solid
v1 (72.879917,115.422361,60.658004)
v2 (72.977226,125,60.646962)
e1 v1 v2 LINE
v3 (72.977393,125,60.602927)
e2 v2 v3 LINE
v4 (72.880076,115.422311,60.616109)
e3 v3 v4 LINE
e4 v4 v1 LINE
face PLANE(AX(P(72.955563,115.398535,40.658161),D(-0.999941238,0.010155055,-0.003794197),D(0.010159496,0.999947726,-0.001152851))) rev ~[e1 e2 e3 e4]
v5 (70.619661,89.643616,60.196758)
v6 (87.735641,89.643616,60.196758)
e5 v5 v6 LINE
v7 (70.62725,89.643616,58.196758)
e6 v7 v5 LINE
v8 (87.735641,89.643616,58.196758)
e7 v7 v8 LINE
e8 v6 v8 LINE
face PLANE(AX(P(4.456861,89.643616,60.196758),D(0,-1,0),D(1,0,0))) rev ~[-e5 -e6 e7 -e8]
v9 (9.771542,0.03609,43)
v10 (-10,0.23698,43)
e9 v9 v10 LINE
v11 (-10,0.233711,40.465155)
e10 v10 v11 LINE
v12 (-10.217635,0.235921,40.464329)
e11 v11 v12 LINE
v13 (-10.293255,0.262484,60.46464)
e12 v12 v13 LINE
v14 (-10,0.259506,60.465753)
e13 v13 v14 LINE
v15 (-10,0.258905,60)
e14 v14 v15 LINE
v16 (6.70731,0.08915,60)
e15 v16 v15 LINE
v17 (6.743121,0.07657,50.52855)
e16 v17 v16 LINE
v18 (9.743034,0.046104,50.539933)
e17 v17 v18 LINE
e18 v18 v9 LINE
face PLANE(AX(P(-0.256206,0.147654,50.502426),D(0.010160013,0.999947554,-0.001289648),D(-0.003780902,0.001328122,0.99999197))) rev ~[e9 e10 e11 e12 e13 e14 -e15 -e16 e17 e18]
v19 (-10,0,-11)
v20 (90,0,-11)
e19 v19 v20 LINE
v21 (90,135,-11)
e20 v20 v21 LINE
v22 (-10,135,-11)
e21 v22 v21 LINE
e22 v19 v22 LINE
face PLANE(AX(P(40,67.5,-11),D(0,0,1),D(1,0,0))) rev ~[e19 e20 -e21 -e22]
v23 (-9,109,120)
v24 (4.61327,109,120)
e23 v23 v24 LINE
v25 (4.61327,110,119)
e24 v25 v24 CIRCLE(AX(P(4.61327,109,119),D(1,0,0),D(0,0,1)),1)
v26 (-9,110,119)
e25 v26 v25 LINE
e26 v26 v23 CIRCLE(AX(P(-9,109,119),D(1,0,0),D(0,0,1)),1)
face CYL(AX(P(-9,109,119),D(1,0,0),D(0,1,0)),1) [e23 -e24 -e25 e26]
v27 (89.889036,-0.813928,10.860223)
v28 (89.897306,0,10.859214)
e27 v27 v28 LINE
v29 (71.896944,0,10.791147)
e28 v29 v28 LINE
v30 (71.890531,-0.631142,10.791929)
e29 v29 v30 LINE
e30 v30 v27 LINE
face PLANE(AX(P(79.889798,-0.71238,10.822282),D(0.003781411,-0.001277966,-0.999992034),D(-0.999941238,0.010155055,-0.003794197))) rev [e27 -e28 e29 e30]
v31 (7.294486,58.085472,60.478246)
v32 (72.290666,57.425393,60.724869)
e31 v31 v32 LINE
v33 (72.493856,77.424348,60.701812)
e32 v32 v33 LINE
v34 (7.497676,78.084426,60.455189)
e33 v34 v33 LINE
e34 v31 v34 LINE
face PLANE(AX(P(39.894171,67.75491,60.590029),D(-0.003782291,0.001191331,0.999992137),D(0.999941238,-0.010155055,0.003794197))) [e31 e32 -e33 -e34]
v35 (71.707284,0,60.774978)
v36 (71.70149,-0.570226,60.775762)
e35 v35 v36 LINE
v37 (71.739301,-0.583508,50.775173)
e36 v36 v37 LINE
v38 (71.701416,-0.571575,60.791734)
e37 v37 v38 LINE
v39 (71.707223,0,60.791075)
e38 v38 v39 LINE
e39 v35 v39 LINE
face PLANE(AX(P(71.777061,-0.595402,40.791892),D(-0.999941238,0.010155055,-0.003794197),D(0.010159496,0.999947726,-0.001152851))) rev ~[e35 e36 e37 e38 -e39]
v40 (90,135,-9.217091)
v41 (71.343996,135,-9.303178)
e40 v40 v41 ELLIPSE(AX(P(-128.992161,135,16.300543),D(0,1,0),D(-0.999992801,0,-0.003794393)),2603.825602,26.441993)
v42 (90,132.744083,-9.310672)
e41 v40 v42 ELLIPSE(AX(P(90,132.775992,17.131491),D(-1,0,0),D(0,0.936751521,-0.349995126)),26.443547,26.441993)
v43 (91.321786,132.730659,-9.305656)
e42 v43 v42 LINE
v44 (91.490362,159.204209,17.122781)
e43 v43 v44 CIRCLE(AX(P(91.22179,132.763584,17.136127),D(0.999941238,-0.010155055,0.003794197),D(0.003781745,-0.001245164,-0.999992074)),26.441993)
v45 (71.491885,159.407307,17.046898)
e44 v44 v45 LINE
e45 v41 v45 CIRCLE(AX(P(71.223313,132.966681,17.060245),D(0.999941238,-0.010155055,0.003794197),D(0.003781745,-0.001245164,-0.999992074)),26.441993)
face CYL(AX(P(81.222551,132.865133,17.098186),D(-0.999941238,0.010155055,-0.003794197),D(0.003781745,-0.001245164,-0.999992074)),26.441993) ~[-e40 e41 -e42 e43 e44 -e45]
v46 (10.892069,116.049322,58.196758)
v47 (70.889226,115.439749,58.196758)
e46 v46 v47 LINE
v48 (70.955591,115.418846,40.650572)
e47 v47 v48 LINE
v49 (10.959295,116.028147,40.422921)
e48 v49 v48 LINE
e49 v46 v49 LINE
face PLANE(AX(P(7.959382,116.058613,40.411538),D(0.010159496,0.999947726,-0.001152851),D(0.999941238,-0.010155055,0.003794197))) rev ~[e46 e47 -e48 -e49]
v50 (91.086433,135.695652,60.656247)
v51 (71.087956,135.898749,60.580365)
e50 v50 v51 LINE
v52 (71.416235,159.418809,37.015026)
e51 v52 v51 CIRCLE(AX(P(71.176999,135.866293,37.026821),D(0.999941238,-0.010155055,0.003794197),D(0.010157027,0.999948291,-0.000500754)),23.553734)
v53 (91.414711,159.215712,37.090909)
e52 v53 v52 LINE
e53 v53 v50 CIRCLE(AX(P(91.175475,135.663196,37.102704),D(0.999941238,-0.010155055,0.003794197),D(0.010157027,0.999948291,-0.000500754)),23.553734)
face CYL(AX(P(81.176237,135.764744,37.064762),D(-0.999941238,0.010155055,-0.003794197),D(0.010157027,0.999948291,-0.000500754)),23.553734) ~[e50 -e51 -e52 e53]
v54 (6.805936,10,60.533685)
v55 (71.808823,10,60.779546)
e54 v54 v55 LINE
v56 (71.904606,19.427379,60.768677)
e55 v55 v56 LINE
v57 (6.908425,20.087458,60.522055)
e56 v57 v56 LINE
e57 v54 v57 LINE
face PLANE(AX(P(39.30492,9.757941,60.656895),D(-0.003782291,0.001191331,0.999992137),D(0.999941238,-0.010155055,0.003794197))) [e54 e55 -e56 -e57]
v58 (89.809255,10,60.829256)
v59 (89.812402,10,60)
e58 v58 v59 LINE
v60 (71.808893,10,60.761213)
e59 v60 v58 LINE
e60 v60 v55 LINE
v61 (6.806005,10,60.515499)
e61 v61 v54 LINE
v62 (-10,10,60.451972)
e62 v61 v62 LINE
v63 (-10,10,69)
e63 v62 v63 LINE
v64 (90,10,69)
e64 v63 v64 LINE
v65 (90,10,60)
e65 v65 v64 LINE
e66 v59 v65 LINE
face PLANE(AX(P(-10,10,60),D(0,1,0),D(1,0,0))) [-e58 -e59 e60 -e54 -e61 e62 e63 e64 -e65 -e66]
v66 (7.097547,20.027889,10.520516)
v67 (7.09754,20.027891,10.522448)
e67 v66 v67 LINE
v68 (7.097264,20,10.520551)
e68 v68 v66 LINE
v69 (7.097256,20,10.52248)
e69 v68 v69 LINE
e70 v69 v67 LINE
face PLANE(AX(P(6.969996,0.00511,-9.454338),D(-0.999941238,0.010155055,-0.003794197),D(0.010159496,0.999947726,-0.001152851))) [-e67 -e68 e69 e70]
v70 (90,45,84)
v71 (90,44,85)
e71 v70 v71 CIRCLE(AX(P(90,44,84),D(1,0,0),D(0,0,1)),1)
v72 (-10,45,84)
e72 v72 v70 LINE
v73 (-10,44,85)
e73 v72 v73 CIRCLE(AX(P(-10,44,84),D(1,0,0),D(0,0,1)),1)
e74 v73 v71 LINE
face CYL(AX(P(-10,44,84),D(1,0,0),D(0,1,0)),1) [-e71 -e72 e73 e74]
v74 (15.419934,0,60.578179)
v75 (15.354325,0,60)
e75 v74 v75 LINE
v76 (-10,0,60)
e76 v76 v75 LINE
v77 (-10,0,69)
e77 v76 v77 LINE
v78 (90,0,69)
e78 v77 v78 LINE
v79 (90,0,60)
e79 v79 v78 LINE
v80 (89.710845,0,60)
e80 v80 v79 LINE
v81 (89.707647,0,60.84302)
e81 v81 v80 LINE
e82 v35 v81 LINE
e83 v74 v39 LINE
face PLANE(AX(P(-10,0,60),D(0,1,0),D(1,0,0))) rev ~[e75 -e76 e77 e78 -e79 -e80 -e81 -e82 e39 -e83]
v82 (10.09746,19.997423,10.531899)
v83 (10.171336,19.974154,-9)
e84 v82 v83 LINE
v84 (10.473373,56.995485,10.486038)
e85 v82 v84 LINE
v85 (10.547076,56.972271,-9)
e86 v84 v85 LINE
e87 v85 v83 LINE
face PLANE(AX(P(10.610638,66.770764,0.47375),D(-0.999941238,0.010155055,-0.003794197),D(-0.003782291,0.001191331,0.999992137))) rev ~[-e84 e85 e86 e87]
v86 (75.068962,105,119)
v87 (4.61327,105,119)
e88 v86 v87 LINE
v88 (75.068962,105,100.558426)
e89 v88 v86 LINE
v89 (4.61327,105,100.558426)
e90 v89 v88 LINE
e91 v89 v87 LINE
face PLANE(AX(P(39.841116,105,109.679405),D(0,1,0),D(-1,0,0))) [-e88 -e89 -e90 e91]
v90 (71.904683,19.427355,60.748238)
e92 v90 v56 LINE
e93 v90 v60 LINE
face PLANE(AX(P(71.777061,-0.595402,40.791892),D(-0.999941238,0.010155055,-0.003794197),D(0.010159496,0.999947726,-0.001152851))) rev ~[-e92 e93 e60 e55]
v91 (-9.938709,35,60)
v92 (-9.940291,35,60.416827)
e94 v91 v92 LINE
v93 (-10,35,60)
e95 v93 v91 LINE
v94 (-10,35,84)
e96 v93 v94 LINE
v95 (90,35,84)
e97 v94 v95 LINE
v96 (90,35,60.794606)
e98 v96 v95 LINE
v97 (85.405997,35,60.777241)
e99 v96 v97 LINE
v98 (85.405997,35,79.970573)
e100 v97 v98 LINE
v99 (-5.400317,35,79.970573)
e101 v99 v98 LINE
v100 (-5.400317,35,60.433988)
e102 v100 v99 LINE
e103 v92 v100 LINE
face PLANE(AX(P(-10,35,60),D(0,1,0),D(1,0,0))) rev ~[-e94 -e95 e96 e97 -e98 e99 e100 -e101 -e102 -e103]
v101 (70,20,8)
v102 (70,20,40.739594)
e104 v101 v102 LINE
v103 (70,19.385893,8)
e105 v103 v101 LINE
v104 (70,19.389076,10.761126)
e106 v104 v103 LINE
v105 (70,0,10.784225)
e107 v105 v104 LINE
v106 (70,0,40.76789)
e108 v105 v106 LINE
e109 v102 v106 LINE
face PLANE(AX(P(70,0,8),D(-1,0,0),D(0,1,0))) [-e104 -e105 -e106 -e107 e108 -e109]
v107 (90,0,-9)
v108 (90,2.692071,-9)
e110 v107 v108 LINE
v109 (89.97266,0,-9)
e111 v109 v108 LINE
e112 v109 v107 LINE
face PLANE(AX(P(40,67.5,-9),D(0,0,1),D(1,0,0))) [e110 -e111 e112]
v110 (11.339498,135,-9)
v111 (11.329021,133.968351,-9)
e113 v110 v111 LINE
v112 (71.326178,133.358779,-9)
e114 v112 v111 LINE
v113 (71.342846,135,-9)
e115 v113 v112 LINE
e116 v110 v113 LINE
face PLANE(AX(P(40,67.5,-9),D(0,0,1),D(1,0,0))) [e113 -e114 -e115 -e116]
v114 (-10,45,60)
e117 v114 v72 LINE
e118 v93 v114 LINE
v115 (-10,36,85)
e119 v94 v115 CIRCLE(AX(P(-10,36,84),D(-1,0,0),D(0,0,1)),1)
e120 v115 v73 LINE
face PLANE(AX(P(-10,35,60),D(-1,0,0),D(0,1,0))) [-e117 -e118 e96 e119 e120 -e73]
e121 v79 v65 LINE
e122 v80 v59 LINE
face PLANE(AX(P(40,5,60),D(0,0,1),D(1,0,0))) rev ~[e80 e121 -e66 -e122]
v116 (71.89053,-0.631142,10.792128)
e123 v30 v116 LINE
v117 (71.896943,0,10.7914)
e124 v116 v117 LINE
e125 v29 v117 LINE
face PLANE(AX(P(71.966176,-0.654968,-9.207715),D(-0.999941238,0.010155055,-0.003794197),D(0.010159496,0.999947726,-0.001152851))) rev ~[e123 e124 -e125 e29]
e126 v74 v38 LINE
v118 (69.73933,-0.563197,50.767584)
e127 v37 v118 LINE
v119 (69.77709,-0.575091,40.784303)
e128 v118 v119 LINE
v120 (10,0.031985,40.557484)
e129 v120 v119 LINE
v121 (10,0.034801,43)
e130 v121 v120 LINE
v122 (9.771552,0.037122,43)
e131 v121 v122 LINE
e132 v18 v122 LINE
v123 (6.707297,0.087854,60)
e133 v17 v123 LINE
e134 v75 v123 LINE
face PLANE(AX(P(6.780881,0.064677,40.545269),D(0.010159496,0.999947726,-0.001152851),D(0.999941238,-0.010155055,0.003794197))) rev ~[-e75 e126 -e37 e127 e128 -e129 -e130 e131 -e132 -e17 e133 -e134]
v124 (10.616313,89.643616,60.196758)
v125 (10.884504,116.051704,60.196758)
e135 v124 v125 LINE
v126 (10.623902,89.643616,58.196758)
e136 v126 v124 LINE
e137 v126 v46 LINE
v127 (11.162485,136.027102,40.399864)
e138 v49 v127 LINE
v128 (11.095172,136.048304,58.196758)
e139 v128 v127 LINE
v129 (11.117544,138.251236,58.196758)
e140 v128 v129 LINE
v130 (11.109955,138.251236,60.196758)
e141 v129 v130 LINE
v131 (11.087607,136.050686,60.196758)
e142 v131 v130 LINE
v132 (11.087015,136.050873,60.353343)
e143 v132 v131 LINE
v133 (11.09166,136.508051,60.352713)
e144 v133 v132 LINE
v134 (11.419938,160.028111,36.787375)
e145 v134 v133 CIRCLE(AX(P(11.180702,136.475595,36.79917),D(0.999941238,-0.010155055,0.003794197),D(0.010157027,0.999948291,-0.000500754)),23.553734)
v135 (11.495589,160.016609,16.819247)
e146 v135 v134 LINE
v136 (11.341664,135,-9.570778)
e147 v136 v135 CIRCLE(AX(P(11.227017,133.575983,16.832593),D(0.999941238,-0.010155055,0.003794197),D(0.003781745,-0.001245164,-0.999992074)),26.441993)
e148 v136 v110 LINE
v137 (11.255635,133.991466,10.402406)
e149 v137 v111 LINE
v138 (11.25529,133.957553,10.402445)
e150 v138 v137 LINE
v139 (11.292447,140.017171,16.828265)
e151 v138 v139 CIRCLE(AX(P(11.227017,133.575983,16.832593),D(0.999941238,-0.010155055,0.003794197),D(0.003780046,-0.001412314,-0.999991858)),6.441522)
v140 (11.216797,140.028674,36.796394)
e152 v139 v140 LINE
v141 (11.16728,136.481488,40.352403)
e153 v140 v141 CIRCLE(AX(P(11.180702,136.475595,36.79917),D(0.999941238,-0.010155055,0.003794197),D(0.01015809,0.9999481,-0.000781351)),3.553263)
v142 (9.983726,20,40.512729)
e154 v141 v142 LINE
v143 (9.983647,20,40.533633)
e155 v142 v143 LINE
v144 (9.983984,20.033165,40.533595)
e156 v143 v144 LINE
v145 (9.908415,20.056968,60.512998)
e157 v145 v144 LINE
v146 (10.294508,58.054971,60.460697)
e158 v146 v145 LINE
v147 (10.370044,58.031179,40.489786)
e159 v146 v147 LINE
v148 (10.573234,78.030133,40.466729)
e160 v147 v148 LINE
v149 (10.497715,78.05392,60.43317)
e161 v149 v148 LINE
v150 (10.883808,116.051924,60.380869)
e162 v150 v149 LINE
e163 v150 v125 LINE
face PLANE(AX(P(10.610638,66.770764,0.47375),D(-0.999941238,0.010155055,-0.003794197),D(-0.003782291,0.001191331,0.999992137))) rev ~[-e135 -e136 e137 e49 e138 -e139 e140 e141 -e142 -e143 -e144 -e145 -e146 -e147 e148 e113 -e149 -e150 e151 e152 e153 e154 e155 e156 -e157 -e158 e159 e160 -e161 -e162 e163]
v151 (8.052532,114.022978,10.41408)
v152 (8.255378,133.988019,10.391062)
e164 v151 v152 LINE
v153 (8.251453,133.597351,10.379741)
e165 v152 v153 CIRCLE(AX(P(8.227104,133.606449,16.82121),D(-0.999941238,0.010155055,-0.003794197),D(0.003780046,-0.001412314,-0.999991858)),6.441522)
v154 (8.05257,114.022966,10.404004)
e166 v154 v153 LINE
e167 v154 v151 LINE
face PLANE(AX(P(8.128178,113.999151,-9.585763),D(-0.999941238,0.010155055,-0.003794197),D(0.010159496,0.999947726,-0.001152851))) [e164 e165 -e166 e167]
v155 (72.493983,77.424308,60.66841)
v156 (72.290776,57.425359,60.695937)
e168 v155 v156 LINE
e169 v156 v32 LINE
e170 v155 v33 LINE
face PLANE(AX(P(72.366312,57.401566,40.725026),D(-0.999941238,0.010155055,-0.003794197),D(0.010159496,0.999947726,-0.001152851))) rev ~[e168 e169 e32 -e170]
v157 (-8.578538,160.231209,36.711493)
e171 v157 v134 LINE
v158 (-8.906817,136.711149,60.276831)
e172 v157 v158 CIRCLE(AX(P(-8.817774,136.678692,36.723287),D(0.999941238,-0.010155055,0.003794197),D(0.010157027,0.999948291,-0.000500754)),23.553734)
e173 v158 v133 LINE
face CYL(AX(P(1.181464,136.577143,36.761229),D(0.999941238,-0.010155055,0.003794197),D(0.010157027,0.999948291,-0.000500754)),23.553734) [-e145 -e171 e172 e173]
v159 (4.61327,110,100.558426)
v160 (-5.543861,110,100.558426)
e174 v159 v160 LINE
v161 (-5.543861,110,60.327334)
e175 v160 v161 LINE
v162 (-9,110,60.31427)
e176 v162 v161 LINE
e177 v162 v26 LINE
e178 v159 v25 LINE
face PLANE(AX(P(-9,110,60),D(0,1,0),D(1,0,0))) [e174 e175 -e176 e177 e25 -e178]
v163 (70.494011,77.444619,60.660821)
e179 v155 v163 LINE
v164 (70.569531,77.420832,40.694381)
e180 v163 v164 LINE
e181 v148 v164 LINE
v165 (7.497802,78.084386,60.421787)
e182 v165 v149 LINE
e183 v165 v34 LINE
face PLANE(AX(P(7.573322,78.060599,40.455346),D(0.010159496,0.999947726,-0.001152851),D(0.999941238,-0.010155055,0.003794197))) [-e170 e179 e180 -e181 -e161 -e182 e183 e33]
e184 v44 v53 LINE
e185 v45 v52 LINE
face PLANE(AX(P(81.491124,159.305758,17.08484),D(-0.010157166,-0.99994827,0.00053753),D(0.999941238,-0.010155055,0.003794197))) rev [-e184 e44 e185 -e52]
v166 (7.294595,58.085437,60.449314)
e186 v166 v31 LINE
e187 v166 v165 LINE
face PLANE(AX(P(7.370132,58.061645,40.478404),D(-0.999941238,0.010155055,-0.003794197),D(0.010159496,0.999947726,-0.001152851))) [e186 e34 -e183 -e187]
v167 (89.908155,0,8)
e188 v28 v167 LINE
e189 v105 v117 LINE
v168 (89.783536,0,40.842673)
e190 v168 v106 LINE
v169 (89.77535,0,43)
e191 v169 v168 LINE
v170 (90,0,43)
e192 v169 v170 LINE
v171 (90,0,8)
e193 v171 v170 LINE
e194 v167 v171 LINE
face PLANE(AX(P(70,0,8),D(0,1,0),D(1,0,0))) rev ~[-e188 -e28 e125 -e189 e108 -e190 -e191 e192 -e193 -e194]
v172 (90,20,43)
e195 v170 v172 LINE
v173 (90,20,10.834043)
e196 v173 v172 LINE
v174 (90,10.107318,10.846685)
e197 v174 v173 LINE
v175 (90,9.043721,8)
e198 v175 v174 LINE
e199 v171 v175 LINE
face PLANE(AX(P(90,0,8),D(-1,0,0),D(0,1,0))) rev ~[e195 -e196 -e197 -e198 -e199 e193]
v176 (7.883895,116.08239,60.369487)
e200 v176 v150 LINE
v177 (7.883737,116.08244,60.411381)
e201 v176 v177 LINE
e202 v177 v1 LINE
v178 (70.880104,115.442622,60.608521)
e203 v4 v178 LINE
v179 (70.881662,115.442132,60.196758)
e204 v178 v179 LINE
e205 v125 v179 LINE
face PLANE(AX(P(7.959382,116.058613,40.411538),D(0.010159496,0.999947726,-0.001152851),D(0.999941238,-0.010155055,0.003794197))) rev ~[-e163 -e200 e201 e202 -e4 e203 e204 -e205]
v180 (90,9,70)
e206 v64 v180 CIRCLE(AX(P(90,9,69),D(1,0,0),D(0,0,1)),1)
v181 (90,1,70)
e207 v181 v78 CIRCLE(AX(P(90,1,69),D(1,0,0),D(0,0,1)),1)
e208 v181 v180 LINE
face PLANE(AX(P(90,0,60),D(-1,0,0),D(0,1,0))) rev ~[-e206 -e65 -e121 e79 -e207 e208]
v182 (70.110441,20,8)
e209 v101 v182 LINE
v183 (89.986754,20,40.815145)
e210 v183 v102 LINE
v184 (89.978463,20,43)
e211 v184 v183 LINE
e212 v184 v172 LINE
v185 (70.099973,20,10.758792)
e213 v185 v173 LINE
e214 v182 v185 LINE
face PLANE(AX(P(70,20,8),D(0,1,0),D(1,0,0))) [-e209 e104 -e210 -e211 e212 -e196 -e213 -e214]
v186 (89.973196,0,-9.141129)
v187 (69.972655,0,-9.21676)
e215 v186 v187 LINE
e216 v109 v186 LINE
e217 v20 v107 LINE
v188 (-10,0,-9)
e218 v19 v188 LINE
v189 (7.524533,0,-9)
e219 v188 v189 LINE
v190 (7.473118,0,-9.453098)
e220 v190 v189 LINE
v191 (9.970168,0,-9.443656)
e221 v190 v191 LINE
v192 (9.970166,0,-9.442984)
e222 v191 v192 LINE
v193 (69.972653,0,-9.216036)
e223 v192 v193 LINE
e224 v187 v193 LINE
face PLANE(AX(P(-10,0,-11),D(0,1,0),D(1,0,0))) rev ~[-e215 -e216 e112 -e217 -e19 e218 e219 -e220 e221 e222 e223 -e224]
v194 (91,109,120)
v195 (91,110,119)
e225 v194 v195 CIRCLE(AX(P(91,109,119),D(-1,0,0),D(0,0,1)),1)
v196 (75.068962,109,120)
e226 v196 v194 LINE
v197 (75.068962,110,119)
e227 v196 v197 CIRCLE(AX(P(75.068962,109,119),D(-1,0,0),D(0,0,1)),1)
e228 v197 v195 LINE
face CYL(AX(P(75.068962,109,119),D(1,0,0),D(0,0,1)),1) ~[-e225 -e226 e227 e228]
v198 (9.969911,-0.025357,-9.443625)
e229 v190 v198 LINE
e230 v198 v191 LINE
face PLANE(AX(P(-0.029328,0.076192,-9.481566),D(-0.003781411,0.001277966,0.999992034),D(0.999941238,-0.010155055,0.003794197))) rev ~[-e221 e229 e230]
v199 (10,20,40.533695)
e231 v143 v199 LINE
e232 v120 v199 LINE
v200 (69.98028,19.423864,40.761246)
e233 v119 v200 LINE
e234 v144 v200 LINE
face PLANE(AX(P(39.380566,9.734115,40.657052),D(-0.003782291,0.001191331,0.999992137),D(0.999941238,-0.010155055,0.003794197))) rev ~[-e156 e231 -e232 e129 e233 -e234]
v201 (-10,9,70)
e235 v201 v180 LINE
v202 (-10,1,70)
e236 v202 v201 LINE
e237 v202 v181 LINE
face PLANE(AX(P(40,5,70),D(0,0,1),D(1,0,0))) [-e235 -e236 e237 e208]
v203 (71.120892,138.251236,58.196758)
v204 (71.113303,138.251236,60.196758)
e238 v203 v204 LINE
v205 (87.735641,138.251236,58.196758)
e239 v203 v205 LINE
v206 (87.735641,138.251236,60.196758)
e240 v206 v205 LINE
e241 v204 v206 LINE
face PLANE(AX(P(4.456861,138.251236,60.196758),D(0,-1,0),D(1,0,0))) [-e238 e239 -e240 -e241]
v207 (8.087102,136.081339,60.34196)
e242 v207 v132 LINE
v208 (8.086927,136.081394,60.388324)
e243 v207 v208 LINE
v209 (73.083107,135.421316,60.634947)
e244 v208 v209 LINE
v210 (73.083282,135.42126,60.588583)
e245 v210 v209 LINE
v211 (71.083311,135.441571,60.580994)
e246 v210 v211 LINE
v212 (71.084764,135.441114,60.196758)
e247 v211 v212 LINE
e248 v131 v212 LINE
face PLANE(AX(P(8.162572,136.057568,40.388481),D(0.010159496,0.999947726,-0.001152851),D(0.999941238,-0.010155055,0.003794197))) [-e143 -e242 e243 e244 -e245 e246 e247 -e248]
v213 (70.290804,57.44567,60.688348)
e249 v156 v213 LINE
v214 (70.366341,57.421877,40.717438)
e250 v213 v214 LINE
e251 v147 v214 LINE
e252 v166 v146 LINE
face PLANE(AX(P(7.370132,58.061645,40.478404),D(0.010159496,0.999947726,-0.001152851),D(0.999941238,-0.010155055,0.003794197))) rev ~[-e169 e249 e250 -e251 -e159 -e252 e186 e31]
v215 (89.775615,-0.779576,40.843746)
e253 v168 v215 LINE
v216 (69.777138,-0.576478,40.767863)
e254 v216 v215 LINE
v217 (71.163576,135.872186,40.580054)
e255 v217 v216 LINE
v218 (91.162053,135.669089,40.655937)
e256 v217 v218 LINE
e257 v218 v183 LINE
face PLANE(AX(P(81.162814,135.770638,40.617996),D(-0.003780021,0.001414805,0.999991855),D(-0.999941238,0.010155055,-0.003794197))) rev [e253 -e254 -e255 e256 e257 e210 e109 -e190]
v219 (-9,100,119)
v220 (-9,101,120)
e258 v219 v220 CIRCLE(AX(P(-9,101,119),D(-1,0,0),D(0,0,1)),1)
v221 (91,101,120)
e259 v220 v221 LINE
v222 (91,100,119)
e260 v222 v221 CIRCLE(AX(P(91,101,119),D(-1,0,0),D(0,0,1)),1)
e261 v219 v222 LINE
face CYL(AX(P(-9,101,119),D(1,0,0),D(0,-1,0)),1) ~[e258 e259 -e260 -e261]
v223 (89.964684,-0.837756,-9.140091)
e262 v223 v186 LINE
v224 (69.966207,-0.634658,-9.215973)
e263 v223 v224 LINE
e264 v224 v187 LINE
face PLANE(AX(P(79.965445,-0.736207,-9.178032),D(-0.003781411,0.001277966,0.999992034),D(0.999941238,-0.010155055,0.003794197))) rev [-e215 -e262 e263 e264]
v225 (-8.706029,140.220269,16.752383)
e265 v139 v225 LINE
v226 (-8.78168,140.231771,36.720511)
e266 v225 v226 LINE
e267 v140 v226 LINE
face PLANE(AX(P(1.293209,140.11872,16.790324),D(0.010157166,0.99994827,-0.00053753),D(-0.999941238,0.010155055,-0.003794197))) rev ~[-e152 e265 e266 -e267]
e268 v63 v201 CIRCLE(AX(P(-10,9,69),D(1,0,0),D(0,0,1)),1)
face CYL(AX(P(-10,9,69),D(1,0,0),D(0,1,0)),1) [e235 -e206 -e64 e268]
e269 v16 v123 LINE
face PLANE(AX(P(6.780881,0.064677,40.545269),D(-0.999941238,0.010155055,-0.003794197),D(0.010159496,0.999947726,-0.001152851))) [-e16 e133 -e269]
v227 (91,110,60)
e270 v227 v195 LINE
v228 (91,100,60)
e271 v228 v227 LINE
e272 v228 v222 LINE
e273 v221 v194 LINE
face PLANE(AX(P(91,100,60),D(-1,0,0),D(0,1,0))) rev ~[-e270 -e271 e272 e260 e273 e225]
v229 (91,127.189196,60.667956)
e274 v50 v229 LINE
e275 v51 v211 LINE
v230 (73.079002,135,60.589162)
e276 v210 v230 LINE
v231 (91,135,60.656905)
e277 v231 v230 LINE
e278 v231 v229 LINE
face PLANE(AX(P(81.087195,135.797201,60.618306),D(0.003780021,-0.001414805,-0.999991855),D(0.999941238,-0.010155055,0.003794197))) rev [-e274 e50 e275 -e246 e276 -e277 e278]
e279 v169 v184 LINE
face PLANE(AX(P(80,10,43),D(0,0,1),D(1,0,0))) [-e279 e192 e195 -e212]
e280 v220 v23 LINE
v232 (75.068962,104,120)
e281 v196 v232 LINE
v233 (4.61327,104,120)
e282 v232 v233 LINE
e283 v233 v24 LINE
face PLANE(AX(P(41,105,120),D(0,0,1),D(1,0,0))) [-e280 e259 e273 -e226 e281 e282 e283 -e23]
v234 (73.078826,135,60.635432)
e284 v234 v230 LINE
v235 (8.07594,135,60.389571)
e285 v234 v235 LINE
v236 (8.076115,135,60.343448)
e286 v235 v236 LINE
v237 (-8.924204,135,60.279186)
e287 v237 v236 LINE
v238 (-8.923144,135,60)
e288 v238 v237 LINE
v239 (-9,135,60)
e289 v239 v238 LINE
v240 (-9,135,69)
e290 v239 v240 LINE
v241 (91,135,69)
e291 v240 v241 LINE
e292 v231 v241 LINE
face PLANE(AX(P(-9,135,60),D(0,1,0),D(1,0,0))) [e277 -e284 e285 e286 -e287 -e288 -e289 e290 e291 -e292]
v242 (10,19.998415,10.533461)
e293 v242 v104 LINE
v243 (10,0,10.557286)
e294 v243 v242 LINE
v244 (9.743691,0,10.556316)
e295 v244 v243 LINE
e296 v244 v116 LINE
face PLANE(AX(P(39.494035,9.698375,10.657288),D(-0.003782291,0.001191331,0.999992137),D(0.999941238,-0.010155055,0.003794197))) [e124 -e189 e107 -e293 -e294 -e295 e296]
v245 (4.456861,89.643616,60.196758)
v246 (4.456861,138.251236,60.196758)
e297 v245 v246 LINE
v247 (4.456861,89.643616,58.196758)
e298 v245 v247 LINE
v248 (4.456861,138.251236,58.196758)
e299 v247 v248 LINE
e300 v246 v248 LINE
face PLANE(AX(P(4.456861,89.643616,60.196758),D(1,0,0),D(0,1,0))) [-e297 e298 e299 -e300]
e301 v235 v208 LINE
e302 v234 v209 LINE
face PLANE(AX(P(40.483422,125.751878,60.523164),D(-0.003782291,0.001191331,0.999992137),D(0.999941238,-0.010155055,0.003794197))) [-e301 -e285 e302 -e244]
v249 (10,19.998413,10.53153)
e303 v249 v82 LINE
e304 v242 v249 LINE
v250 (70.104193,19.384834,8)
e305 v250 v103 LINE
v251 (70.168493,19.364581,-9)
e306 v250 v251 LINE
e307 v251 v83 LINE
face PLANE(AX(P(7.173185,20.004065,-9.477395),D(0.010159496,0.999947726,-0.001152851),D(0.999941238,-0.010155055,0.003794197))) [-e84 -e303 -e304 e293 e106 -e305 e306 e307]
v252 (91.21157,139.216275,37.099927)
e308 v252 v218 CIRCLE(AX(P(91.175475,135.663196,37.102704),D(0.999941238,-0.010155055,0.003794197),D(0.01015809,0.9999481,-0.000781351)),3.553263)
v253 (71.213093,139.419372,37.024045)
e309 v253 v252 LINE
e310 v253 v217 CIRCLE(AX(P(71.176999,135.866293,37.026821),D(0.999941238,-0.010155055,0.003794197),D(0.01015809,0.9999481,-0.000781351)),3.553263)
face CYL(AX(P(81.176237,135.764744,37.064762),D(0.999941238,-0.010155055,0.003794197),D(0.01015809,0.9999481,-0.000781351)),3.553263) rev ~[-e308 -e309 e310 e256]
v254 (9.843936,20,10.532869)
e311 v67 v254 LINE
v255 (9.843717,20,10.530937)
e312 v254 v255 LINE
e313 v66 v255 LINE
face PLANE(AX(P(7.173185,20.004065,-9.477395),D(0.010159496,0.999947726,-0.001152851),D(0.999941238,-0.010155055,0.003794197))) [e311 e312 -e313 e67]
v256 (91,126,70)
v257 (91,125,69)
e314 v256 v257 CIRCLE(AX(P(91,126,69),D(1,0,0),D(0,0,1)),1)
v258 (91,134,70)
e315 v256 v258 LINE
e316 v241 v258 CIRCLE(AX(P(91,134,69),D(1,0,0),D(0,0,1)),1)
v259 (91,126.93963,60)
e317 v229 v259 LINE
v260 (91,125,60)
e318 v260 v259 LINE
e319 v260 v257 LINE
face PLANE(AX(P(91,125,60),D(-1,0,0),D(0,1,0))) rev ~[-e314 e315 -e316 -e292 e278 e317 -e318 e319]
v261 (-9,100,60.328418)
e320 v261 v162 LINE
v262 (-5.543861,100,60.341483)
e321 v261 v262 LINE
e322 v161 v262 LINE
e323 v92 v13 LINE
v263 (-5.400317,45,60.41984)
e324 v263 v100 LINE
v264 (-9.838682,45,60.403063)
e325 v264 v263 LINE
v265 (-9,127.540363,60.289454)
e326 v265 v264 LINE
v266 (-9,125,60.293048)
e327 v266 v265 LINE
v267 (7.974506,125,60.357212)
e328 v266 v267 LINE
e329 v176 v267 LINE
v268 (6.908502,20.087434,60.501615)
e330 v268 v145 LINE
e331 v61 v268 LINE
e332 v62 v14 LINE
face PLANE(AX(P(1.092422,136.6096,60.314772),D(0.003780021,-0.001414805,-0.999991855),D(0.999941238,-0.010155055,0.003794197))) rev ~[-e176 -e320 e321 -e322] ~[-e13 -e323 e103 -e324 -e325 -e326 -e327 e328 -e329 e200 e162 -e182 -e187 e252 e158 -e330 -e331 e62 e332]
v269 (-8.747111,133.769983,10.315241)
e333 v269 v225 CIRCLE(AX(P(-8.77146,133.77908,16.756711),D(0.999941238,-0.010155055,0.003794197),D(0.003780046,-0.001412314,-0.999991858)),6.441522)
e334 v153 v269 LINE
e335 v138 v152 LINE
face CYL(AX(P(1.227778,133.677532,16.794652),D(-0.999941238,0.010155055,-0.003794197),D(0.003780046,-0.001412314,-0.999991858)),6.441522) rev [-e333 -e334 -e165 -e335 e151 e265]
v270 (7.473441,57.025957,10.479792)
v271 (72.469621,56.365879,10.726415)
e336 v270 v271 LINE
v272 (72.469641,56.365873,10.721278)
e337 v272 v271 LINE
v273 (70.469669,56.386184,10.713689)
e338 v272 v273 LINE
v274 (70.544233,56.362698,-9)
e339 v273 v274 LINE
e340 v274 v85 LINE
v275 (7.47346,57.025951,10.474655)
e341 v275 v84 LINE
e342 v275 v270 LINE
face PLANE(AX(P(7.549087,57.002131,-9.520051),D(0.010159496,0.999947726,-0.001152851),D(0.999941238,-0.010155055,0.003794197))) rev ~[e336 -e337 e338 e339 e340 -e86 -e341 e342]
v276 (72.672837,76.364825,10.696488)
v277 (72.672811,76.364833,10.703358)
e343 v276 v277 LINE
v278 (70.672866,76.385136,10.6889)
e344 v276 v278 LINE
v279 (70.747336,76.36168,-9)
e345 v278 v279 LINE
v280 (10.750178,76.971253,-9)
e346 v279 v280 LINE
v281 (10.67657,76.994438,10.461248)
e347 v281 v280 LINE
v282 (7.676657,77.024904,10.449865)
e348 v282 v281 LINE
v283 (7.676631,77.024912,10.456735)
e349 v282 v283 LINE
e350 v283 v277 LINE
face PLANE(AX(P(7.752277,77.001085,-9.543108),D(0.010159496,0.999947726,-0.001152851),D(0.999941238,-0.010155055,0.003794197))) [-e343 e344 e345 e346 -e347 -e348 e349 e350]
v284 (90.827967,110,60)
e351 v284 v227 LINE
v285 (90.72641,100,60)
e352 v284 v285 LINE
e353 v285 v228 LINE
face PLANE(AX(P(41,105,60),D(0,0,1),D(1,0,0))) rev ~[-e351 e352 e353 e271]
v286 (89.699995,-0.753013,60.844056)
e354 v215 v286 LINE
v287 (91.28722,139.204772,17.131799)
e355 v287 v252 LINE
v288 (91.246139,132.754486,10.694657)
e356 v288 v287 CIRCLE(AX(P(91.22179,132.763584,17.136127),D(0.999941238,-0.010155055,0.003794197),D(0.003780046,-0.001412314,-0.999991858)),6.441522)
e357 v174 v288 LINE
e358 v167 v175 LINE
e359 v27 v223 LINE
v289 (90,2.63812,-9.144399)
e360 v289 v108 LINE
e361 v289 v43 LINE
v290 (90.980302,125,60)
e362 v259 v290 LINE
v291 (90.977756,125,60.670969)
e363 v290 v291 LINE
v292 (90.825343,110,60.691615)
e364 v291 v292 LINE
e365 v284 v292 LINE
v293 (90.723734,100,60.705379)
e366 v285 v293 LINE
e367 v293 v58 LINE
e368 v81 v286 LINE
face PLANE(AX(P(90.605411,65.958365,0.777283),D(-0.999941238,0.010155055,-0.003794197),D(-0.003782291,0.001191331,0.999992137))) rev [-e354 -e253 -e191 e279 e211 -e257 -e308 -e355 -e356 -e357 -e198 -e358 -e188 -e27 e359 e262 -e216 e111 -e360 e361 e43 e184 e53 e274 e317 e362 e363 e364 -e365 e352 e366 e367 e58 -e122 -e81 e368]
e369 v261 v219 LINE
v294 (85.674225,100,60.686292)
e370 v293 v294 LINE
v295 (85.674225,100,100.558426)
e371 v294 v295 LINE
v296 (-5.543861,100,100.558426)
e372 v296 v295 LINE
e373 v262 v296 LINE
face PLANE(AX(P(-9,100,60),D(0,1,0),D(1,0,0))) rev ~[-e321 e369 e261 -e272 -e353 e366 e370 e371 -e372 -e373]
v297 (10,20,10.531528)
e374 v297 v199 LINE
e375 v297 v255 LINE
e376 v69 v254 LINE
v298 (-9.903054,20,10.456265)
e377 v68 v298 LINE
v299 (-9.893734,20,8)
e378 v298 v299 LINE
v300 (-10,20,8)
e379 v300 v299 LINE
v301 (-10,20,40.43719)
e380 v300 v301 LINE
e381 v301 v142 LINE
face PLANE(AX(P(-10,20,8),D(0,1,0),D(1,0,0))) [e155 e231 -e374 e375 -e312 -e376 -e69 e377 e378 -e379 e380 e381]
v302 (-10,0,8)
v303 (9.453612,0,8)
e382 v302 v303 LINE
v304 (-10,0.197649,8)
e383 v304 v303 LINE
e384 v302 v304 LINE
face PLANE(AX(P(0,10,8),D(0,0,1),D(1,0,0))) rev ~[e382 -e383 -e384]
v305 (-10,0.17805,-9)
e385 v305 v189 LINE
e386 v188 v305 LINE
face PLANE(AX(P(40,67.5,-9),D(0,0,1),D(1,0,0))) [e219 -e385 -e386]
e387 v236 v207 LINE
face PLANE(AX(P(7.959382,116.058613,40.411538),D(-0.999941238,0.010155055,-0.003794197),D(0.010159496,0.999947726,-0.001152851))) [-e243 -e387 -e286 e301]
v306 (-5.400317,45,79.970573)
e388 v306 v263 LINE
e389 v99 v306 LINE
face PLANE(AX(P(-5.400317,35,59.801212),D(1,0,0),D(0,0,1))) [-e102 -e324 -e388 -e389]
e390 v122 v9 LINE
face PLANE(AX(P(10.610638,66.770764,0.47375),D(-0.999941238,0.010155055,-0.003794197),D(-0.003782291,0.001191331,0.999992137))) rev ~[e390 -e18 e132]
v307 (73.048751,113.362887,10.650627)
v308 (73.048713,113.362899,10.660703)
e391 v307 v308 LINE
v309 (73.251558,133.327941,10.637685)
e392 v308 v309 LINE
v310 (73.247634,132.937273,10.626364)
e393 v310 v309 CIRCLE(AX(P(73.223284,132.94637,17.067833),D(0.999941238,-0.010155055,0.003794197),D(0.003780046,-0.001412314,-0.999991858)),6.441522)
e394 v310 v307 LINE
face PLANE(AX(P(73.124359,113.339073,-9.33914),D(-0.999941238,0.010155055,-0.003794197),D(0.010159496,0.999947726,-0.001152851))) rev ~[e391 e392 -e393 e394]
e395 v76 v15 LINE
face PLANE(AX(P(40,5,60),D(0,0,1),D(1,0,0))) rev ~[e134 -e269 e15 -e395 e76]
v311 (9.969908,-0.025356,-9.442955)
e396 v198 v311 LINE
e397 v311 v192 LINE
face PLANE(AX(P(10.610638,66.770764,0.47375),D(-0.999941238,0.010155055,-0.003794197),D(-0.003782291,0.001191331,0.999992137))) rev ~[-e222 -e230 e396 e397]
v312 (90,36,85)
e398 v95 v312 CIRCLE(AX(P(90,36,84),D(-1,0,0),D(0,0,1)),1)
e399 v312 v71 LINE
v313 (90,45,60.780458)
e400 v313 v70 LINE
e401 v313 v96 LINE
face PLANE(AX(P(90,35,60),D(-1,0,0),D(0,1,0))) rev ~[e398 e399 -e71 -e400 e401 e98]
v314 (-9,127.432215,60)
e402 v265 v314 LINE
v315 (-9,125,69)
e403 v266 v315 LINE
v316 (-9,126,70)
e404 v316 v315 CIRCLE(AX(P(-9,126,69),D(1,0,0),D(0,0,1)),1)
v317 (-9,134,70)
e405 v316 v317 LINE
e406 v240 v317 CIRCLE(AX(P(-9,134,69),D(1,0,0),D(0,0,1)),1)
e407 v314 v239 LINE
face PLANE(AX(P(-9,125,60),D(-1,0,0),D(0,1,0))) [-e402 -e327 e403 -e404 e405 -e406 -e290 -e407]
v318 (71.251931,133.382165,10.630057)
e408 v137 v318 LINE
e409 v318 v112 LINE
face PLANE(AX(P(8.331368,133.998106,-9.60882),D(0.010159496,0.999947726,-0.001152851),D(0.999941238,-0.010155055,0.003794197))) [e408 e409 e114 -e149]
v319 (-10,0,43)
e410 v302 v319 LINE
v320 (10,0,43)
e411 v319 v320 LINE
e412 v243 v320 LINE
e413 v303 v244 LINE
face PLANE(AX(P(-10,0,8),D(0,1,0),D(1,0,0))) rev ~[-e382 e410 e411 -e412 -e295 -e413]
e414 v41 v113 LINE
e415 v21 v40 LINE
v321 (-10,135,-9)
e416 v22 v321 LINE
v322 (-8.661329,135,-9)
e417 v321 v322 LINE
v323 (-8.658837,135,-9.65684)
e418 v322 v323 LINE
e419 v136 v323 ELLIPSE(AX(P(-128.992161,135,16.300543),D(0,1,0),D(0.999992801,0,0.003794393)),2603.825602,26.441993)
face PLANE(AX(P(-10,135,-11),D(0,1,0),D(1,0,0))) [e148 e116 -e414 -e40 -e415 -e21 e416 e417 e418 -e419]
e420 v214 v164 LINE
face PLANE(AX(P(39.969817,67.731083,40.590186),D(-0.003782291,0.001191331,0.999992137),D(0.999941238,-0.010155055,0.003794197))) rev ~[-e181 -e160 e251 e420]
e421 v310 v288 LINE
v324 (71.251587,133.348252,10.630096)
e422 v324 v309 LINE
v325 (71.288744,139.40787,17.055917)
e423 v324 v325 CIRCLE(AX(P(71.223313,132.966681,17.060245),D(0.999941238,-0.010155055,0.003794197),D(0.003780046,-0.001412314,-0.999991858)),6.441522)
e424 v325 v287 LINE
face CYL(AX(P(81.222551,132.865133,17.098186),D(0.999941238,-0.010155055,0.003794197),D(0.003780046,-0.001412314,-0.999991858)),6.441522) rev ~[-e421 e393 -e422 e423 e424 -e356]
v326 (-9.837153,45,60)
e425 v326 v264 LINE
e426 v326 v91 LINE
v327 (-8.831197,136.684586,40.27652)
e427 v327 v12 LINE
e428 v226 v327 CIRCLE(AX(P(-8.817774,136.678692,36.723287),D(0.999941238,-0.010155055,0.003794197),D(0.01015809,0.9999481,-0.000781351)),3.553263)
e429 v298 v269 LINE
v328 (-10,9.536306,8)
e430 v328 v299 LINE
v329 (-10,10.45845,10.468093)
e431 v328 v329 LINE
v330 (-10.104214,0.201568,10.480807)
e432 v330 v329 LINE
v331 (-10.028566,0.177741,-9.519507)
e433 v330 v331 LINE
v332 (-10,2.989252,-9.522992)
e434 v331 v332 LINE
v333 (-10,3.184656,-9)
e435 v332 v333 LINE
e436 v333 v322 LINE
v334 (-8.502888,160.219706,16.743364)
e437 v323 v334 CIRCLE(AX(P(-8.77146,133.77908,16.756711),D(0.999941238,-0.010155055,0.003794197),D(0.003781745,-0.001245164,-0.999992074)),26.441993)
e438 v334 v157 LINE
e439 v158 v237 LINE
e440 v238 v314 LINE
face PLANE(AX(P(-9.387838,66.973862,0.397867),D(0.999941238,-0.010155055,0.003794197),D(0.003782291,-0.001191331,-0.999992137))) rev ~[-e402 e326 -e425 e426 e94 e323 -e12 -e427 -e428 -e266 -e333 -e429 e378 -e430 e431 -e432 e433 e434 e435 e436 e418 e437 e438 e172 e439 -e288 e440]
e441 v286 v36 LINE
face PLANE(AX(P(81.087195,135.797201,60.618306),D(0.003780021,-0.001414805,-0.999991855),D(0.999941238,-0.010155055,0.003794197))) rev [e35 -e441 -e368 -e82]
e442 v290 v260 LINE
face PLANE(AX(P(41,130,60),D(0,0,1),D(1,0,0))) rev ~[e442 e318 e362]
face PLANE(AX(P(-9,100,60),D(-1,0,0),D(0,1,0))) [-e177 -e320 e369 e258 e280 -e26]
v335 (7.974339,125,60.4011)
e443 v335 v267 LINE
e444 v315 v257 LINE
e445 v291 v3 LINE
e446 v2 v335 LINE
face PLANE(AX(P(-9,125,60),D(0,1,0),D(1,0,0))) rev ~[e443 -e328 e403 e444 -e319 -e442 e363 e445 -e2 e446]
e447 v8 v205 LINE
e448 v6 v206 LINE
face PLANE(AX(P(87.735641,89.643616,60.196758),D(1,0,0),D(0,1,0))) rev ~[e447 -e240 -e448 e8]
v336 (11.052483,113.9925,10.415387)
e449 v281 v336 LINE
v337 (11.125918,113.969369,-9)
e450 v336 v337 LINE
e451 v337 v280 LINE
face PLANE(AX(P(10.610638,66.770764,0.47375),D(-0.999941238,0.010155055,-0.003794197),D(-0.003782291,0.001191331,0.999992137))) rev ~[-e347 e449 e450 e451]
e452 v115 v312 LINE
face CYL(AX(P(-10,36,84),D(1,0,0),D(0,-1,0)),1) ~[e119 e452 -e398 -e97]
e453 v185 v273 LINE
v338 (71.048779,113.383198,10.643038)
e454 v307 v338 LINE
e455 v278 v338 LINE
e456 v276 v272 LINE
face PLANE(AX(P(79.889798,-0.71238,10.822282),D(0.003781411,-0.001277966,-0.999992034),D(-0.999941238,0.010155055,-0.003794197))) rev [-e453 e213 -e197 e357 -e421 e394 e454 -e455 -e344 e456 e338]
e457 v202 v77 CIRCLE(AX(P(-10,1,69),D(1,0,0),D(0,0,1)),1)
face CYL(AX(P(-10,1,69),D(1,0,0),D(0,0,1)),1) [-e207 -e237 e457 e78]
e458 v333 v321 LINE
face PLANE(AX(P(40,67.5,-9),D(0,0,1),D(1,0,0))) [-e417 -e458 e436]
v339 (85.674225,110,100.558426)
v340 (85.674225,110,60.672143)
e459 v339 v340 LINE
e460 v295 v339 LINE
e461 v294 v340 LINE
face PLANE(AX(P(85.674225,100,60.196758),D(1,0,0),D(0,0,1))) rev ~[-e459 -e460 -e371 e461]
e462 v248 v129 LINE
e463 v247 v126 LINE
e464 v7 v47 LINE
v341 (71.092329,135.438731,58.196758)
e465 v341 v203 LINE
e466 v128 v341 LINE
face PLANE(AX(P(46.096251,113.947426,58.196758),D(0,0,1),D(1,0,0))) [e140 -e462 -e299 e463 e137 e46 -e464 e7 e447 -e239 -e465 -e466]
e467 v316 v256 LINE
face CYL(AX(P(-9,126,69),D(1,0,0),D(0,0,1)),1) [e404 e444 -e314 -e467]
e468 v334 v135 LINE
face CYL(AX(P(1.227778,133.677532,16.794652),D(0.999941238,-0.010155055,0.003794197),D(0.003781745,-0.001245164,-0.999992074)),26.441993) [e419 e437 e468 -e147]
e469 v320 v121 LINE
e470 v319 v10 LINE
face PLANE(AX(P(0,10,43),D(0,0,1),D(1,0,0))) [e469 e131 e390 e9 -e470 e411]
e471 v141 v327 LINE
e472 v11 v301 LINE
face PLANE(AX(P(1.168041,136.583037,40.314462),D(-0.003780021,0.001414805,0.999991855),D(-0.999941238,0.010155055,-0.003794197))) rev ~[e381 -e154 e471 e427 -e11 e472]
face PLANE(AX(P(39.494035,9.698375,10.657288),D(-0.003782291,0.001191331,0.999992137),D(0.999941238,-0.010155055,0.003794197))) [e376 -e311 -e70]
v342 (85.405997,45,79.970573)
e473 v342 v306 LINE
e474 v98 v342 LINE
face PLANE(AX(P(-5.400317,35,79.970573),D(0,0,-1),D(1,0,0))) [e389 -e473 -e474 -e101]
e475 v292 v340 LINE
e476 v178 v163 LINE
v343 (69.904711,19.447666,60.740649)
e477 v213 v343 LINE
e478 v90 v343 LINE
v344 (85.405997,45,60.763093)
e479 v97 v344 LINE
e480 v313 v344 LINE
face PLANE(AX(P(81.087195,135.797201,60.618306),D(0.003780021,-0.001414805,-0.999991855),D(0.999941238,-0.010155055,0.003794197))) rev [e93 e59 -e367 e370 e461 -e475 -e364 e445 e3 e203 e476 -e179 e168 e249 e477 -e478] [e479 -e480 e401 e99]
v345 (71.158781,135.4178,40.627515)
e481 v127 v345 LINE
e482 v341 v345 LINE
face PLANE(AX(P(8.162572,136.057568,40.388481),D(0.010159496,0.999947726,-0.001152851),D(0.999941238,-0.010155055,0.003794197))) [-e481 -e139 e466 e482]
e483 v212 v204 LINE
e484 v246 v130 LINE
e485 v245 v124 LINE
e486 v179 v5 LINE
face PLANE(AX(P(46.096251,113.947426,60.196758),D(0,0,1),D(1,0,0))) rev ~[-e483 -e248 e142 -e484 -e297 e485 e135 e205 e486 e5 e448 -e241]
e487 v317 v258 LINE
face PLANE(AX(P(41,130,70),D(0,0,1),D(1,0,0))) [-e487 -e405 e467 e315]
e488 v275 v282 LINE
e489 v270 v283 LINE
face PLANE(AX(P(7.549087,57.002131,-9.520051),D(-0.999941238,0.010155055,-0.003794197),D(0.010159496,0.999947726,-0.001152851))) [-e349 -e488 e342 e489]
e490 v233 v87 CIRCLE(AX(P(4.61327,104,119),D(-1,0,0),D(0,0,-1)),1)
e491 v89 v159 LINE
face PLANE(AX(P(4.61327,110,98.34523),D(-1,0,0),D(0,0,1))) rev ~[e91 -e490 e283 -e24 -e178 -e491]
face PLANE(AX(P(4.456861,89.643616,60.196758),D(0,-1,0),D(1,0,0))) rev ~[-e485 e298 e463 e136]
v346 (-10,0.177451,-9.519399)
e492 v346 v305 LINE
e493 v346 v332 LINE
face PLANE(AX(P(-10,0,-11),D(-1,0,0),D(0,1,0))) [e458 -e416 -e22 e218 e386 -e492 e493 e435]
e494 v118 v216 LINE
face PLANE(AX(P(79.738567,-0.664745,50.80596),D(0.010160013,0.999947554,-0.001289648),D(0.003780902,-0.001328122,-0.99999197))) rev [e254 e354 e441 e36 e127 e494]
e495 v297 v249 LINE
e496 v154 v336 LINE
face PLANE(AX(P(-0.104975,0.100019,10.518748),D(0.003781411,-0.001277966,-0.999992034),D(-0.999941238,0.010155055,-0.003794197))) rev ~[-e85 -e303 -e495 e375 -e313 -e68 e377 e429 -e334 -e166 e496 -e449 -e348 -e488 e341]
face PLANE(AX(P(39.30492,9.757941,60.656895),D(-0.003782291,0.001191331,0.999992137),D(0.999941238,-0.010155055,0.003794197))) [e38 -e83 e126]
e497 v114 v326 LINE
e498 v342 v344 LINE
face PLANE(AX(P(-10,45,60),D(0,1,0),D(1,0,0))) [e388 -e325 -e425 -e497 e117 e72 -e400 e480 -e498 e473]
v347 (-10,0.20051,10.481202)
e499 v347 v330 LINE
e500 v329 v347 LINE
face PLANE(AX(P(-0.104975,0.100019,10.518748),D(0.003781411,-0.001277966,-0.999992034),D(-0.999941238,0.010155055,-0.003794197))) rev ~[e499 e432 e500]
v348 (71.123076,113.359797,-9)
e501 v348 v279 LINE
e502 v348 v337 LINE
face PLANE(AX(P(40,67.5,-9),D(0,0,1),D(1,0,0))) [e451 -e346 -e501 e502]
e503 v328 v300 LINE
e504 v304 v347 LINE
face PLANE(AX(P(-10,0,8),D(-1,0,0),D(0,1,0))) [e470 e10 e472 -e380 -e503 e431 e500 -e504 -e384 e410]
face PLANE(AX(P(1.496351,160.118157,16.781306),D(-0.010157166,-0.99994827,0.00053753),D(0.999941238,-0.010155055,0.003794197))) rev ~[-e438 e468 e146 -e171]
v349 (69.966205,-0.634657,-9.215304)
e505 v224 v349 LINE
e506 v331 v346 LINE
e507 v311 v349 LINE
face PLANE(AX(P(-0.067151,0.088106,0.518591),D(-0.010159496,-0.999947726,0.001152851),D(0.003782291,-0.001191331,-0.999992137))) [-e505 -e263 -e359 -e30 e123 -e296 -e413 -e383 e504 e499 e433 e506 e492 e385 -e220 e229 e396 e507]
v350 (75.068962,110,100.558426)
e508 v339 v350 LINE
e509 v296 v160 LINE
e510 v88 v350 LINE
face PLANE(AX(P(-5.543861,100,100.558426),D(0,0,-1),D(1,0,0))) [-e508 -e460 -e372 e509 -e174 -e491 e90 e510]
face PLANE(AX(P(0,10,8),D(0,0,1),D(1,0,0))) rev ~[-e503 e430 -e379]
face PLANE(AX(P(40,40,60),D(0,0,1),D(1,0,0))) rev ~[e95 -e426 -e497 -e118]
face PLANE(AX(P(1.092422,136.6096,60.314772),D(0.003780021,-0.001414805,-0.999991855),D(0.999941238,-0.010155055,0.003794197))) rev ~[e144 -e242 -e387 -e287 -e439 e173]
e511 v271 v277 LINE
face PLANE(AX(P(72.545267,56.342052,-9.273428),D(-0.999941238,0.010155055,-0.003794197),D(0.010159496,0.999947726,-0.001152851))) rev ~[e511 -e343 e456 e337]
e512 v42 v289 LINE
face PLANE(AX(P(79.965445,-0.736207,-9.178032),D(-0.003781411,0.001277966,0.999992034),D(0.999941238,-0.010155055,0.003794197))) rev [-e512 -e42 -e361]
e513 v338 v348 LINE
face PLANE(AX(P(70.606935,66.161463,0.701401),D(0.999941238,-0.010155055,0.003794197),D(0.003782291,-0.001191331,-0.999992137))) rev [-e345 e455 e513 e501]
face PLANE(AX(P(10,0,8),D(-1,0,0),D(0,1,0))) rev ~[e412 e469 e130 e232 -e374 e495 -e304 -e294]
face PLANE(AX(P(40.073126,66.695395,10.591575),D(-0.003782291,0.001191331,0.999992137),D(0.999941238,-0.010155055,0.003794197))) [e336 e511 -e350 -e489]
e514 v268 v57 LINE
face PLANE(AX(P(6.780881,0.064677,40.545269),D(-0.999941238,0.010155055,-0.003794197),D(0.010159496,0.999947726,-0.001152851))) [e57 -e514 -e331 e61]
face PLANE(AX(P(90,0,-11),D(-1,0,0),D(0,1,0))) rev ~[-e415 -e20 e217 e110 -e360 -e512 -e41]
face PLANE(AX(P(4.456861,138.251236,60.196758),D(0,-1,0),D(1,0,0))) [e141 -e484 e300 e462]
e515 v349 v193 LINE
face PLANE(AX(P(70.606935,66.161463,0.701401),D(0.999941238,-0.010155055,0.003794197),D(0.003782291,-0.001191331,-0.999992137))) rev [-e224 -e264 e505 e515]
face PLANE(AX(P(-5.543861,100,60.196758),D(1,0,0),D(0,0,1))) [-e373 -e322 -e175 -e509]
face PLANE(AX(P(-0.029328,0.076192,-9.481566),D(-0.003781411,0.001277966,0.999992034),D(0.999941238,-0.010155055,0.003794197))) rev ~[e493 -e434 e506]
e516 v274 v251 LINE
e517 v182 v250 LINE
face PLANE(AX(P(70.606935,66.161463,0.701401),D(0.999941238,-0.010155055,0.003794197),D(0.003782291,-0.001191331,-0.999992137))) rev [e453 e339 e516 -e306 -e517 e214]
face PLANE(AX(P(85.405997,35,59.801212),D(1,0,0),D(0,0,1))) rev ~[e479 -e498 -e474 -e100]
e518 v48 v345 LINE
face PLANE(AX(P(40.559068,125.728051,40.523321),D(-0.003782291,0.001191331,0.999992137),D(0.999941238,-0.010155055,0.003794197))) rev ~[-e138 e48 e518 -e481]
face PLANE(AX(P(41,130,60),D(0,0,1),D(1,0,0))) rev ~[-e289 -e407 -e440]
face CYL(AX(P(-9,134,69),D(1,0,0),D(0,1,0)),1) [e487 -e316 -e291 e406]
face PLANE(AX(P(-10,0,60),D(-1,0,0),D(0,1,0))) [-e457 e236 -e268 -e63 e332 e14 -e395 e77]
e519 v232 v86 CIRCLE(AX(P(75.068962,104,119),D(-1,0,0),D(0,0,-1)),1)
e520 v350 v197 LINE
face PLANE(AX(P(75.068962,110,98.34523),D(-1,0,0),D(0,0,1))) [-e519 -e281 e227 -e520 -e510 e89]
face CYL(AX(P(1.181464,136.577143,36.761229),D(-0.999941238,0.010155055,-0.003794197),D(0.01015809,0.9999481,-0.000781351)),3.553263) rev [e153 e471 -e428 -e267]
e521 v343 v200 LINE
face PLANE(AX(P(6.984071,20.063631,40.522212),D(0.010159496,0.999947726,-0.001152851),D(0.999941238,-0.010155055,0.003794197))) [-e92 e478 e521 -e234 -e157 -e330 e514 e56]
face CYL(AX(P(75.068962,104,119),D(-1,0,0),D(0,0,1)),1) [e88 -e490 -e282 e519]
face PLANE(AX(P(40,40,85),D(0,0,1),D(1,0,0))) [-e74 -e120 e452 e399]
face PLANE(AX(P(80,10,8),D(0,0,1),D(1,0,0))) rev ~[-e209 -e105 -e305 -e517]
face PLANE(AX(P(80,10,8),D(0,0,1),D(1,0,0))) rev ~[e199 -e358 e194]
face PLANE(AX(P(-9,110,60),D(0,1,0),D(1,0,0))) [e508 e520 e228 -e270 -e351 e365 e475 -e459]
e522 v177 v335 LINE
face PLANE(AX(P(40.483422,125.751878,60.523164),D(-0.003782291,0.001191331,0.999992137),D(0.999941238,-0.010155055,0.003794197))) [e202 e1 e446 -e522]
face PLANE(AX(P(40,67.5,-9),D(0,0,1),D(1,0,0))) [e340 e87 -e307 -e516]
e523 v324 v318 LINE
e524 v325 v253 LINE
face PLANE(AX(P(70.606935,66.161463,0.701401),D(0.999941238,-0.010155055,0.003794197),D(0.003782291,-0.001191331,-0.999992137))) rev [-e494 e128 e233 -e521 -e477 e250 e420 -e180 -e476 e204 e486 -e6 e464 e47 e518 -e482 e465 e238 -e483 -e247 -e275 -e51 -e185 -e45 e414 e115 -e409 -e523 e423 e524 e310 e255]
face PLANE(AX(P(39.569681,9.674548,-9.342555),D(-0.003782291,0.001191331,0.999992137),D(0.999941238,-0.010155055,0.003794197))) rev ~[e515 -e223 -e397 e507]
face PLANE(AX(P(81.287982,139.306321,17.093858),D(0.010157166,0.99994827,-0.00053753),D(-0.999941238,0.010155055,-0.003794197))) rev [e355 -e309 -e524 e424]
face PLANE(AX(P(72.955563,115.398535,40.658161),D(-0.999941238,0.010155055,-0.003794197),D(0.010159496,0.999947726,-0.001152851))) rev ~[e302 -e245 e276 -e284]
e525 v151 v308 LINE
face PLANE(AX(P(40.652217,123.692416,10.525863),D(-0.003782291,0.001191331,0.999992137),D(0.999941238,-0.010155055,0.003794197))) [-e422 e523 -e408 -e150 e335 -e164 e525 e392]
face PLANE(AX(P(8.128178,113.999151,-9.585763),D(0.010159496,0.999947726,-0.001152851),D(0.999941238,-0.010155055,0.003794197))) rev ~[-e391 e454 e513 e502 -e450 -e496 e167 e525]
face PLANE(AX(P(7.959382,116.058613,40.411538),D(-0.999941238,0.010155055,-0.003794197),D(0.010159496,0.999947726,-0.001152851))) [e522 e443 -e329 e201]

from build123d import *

# Parameters (mm, degrees)
BOX003_W                  = 100
BOX003_H                  = 10
BOX003_DEPTH              = 25
SKETCH003_W               = 90.806315
SKETCH003_H               = 20.169361
POCKET_DEPTH              = 10.001
BOX005_W                  = 100
BOX005_H                  = 10
BOX005_DEPTH              = 60
SKETCH004_W               = 91.218086
SKETCH004_H               = 40.361668
POCKET001_DEPTH           = 10.001
SKETCH005_W               = 70.455691
SKETCH005_H               = 22.66835
POCKET002_DEPTH           = 5
BOX004_W                  = 100
BOX004_H                  = 10
BOX004_DEPTH              = 10
BOX001_W                  = 65
BOX001_H                  = 20
BOX001_DEPTH              = 20
ARRAY001_Y_COUNT          = 3
ARRAY001_Y_PITCH          = 58
BOX_W                     = 65
BOX_H                     = 20
BOX_DEPTH                 = 20
ARRAY_Y_COUNT             = 3
ARRAY_Y_PITCH             = 57
SKETCH_W                  = 19.999652
SKETCH_H                  = 20.000471
FUSION002_ROLL_ANGLE      = -0.066054
FUSION002_PITCH_ANGLE     = -0.217392
FUSION002_PLACEMENT_ANGLE = -0.581856
BOX002_W                  = 100
BOX002_H                  = 10
BOX002_DEPTH              = 10
BOX006_W                  = 20
BOX006_H                  = 20
BOX006_DEPTH              = 35
ARRAY002_X_COUNT          = 2
ARRAY002_X_PITCH          = 80
BOX007_W                  = 100
BOX007_H                  = 135
BOX007_DEPTH              = 2
FILLET008_R               = 1
FILLET009_R               = 1
SKETCH006_W               = 83.27878
SKETCH006_H               = 48.60762
POCKET003_DEPTH           = 2


with BuildPart() as pocket:
    # Box003 → Box003 (new body)
    with BuildSketch(Plane(origin=(-10, 35, 60), x_dir=(1, 0, 0), z_dir=(0, 0, 1))):
        with Locations((50, 5)):
            Rectangle(BOX003_W, BOX003_H)
    extrude(amount=BOX003_DEPTH)

    # Sketch003 → Pocket (cut, through all)
    with BuildSketch(Plane(origin=(-10, 35, 60), x_dir=(1, 0, 0), z_dir=(0, -1, 0))):
        with Locations((50.00284, 9.885892)):
            Rectangle(SKETCH003_W, SKETCH003_H)
    extrude(amount=-POCKET_DEPTH, mode=Mode.SUBTRACT)


with BuildPart() as pocket002:
    # Box005 → Box005 (new body)
    with BuildSketch(Plane(origin=(-9, 100, 60), x_dir=(1, 0, 0), z_dir=(0, 0, 1))):
        with Locations((50, 5)):
            Rectangle(BOX005_W, BOX005_H)
    extrude(amount=BOX005_DEPTH)

    # Sketch004 → Pocket001 (cut, through all)
    with BuildSketch(Plane(origin=(-9, 100, 60), x_dir=(1, 0, 0), z_dir=(0, -1, 0))):
        with Locations((49.065182, 20.377592)):
            Rectangle(SKETCH004_W, SKETCH004_H)
    extrude(amount=-POCKET001_DEPTH, mode=Mode.SUBTRACT)

    # Sketch005 → Pocket002 (cut)
    with BuildSketch(Plane(origin=(-9, 110, 60), x_dir=(-1, 0, 0), z_dir=(0, 1, 0))):
        with Locations((-48.841116, 49.679405)):
            Rectangle(SKETCH005_W, SKETCH005_H)
    extrude(amount=-POCKET002_DEPTH, mode=Mode.SUBTRACT)


with BuildPart() as bertikalki_eusteko_oin_txikia:
    # Box004 → Box004 (new body)
    with BuildSketch(Plane(origin=(-9, 125, 60), x_dir=(1, 0, 0), z_dir=(0, 0, 1))):
        with Locations((50, 5)):
            Rectangle(BOX004_W, BOX004_H)
    extrude(amount=BOX004_DEPTH)


with BuildPart() as goiko_oloturak:
    # Box001 → Box001 (new body)
    with BuildSketch(Plane(origin=(7, 0, 40), x_dir=(1, 0, 0), z_dir=(0, 0, 1))):
        with Locations((32.5, 10)):
            Rectangle(BOX001_W, BOX001_H)
    extrude(amount=BOX001_DEPTH)

    # Array001 Y: Goiko oloturak ×3


with BuildPart() as goiko_oloturak_1:
    add(goiko_oloturak.part)
    with Locations(*[(0, i * ARRAY001_Y_PITCH, 0) for i in range(1, ARRAY001_Y_COUNT)]):
        add(goiko_oloturak.part)


with BuildPart() as beherako_loturak:
    # Box → Box (new body)
    with BuildSketch(Plane(origin=(7, 0, -10), x_dir=(1, 0, 0), z_dir=(0, 0, 1))):
        with Locations((32.5, 10)):
            Rectangle(BOX_W, BOX_H)
    extrude(amount=BOX_DEPTH)

    # Array Y: Beherako loturak ×3


with BuildPart() as beherako_loturak_1:
    add(beherako_loturak.part)
    with Locations(*[(0, i * ARRAY_Y_PITCH, 0) for i in range(1, ARRAY_Y_COUNT)]):
        add(beherako_loturak.part)


with BuildPart() as oinarrizko_estruktura:
    # Sweep: sweep along a path in Sketch001
    with BuildLine(Plane.YZ) as sweep_path:
        Line((0, 0), (133.575411, -0.011573))
        ThreePointArc((133.575411, -0.011573), (145.205679, 4.807053), (150.018155, 16.439868))
        Line((150.018155, 16.439868), (150.005868, 36.408139))
        ThreePointArc((150.005868, 36.408139), (146.034392, 45.985141), (136.455834, 49.952864))
        Line((136.455834, 49.952864), (0, 49.98336))
    # Sketch → Sweep (sweep)
    with BuildSketch(Plane.XZ):
        with Locations((0.000263, -0.000434)):
            Rectangle(SKETCH_W, SKETCH_H)
    sweep(path=sweep_path.line)


with BuildPart() as estruktura_loturak:
    # Fusion base: copy of Oinarrizko estruktura
    add(oinarrizko_estruktura.part)

    # Fusion: union Beherako loturak
    add(beherako_loturak_1.part)


with BuildPart() as estruktura:
    # Part__Mirroring: instance of Oinarrizko estruktura
    add(oinarrizko_estruktura.part.mirror(Plane(origin=(0, 0, 0), x_dir=(0, -1, 0), z_dir=(1, 0, 0))))


with BuildPart() as estruktura_1:
    # Part__Mirroring placement: moved
    add(estruktura.part.moved(Location((80, 0, 0))))

    # Fusion001: union Estruktura + loturak
    add(estruktura_loturak.part)

    # Fusion002: union Goiko oloturak
    add(goiko_oloturak_1.part)


with BuildPart() as estruktura_2:
    # Fusion002 roll: moved
    add(estruktura_1.part.rotate(Axis((0, 0, 0), (1, 0, 0)), FUSION002_ROLL_ANGLE))


with BuildPart() as estruktura_3:
    # Fusion002 pitch: moved
    add(estruktura_2.part.rotate(Axis((0, 0, 0), (0, 1, 0)), FUSION002_PITCH_ANGLE))


with BuildPart() as estruktura_4:
    # Fusion002 placement: moved
    add(estruktura_3.part.moved(Location((-0.067416, 0.088109, 0.519024))).rotate(Axis((-0.067416, 0.088109, 0.519024), (0, 0, 1)), FUSION002_PLACEMENT_ANGLE))


with BuildPart() as estruktura_oin_txikiarekin:
    # Box002 → Box002 (new body)
    with BuildSketch(Plane(origin=(-10, 0, 60), x_dir=(1, 0, 0), z_dir=(0, 0, 1))):
        with Locations((50, 5)):
            Rectangle(BOX002_W, BOX002_H)
    extrude(amount=BOX002_DEPTH)

    # Fusion003: union Estruktura
    add(estruktura_4.part)


with BuildPart() as fusion004:
    # Box006 → Box006 (new body)
    with BuildSketch(Plane(origin=(-10, 0, 8), x_dir=(1, 0, 0), z_dir=(0, 0, 1))):
        with Locations((10, 10)):
            Rectangle(BOX006_W, BOX006_H)
    extrude(amount=BOX006_DEPTH)

    # Array002 X: Fusion004 ×2


with BuildPart() as fusion004_1:
    add(fusion004.part)
    with Locations(*[(i * ARRAY002_X_PITCH, 0, 0) for i in range(1, ARRAY002_X_COUNT)]):
        add(fusion004.part)

    # Fusion004: union Estruktura oin txikiarekin
    add(estruktura_oin_txikiarekin.part)


with BuildPart() as pocket003:
    # Box007 → Box007 (new body)
    with BuildSketch(Plane(origin=(-10, 0, -11), x_dir=(1, 0, 0), z_dir=(0, 0, 1))):
        with Locations((50, 67.5)):
            Rectangle(BOX007_W, BOX007_H)
    extrude(amount=BOX007_DEPTH)

    # Fusion005: union Fusion004
    add(fusion004_1.part)

    # Fusion006: union Pocket, Pocket002, Bertikalki eusteko oin txikia
    add(pocket.part)
    add(pocket002.part)
    add(bertikalki_eusteko_oin_txikia.part)

    # Fillet008
    fillet008_edges = [pocket003.edges().sort_by_distance(p)[0] for p in [
        (41, 135, 70),
        (41, 125, 70),
        (40, 45, 85),
        (40, 35, 85),
    ]]
    fillet(fillet008_edges, radius=FILLET008_R)

    # Fillet009
    fillet009_edges = [pocket003.edges().sort_by_distance(p)[0] for p in [
        (40, 10, 70),
        (-2.193365, 110, 120),
        (41, 100, 120),
        (40, 0, 70),
        (83.034481, 110, 120),
        (39.841116, 105, 120),
    ]]
    fillet(fillet009_edges, radius=FILLET009_R)

    # Sketch006 → Pocket003 (cut)
    with BuildSketch(Plane.XY.offset(60.196758)):
        with Locations((46.096251, 113.947426)):
            Rectangle(SKETCH006_W, SKETCH006_H)
    extrude(amount=-POCKET003_DEPTH, mode=Mode.SUBTRACT)


solid = pocket003.part
